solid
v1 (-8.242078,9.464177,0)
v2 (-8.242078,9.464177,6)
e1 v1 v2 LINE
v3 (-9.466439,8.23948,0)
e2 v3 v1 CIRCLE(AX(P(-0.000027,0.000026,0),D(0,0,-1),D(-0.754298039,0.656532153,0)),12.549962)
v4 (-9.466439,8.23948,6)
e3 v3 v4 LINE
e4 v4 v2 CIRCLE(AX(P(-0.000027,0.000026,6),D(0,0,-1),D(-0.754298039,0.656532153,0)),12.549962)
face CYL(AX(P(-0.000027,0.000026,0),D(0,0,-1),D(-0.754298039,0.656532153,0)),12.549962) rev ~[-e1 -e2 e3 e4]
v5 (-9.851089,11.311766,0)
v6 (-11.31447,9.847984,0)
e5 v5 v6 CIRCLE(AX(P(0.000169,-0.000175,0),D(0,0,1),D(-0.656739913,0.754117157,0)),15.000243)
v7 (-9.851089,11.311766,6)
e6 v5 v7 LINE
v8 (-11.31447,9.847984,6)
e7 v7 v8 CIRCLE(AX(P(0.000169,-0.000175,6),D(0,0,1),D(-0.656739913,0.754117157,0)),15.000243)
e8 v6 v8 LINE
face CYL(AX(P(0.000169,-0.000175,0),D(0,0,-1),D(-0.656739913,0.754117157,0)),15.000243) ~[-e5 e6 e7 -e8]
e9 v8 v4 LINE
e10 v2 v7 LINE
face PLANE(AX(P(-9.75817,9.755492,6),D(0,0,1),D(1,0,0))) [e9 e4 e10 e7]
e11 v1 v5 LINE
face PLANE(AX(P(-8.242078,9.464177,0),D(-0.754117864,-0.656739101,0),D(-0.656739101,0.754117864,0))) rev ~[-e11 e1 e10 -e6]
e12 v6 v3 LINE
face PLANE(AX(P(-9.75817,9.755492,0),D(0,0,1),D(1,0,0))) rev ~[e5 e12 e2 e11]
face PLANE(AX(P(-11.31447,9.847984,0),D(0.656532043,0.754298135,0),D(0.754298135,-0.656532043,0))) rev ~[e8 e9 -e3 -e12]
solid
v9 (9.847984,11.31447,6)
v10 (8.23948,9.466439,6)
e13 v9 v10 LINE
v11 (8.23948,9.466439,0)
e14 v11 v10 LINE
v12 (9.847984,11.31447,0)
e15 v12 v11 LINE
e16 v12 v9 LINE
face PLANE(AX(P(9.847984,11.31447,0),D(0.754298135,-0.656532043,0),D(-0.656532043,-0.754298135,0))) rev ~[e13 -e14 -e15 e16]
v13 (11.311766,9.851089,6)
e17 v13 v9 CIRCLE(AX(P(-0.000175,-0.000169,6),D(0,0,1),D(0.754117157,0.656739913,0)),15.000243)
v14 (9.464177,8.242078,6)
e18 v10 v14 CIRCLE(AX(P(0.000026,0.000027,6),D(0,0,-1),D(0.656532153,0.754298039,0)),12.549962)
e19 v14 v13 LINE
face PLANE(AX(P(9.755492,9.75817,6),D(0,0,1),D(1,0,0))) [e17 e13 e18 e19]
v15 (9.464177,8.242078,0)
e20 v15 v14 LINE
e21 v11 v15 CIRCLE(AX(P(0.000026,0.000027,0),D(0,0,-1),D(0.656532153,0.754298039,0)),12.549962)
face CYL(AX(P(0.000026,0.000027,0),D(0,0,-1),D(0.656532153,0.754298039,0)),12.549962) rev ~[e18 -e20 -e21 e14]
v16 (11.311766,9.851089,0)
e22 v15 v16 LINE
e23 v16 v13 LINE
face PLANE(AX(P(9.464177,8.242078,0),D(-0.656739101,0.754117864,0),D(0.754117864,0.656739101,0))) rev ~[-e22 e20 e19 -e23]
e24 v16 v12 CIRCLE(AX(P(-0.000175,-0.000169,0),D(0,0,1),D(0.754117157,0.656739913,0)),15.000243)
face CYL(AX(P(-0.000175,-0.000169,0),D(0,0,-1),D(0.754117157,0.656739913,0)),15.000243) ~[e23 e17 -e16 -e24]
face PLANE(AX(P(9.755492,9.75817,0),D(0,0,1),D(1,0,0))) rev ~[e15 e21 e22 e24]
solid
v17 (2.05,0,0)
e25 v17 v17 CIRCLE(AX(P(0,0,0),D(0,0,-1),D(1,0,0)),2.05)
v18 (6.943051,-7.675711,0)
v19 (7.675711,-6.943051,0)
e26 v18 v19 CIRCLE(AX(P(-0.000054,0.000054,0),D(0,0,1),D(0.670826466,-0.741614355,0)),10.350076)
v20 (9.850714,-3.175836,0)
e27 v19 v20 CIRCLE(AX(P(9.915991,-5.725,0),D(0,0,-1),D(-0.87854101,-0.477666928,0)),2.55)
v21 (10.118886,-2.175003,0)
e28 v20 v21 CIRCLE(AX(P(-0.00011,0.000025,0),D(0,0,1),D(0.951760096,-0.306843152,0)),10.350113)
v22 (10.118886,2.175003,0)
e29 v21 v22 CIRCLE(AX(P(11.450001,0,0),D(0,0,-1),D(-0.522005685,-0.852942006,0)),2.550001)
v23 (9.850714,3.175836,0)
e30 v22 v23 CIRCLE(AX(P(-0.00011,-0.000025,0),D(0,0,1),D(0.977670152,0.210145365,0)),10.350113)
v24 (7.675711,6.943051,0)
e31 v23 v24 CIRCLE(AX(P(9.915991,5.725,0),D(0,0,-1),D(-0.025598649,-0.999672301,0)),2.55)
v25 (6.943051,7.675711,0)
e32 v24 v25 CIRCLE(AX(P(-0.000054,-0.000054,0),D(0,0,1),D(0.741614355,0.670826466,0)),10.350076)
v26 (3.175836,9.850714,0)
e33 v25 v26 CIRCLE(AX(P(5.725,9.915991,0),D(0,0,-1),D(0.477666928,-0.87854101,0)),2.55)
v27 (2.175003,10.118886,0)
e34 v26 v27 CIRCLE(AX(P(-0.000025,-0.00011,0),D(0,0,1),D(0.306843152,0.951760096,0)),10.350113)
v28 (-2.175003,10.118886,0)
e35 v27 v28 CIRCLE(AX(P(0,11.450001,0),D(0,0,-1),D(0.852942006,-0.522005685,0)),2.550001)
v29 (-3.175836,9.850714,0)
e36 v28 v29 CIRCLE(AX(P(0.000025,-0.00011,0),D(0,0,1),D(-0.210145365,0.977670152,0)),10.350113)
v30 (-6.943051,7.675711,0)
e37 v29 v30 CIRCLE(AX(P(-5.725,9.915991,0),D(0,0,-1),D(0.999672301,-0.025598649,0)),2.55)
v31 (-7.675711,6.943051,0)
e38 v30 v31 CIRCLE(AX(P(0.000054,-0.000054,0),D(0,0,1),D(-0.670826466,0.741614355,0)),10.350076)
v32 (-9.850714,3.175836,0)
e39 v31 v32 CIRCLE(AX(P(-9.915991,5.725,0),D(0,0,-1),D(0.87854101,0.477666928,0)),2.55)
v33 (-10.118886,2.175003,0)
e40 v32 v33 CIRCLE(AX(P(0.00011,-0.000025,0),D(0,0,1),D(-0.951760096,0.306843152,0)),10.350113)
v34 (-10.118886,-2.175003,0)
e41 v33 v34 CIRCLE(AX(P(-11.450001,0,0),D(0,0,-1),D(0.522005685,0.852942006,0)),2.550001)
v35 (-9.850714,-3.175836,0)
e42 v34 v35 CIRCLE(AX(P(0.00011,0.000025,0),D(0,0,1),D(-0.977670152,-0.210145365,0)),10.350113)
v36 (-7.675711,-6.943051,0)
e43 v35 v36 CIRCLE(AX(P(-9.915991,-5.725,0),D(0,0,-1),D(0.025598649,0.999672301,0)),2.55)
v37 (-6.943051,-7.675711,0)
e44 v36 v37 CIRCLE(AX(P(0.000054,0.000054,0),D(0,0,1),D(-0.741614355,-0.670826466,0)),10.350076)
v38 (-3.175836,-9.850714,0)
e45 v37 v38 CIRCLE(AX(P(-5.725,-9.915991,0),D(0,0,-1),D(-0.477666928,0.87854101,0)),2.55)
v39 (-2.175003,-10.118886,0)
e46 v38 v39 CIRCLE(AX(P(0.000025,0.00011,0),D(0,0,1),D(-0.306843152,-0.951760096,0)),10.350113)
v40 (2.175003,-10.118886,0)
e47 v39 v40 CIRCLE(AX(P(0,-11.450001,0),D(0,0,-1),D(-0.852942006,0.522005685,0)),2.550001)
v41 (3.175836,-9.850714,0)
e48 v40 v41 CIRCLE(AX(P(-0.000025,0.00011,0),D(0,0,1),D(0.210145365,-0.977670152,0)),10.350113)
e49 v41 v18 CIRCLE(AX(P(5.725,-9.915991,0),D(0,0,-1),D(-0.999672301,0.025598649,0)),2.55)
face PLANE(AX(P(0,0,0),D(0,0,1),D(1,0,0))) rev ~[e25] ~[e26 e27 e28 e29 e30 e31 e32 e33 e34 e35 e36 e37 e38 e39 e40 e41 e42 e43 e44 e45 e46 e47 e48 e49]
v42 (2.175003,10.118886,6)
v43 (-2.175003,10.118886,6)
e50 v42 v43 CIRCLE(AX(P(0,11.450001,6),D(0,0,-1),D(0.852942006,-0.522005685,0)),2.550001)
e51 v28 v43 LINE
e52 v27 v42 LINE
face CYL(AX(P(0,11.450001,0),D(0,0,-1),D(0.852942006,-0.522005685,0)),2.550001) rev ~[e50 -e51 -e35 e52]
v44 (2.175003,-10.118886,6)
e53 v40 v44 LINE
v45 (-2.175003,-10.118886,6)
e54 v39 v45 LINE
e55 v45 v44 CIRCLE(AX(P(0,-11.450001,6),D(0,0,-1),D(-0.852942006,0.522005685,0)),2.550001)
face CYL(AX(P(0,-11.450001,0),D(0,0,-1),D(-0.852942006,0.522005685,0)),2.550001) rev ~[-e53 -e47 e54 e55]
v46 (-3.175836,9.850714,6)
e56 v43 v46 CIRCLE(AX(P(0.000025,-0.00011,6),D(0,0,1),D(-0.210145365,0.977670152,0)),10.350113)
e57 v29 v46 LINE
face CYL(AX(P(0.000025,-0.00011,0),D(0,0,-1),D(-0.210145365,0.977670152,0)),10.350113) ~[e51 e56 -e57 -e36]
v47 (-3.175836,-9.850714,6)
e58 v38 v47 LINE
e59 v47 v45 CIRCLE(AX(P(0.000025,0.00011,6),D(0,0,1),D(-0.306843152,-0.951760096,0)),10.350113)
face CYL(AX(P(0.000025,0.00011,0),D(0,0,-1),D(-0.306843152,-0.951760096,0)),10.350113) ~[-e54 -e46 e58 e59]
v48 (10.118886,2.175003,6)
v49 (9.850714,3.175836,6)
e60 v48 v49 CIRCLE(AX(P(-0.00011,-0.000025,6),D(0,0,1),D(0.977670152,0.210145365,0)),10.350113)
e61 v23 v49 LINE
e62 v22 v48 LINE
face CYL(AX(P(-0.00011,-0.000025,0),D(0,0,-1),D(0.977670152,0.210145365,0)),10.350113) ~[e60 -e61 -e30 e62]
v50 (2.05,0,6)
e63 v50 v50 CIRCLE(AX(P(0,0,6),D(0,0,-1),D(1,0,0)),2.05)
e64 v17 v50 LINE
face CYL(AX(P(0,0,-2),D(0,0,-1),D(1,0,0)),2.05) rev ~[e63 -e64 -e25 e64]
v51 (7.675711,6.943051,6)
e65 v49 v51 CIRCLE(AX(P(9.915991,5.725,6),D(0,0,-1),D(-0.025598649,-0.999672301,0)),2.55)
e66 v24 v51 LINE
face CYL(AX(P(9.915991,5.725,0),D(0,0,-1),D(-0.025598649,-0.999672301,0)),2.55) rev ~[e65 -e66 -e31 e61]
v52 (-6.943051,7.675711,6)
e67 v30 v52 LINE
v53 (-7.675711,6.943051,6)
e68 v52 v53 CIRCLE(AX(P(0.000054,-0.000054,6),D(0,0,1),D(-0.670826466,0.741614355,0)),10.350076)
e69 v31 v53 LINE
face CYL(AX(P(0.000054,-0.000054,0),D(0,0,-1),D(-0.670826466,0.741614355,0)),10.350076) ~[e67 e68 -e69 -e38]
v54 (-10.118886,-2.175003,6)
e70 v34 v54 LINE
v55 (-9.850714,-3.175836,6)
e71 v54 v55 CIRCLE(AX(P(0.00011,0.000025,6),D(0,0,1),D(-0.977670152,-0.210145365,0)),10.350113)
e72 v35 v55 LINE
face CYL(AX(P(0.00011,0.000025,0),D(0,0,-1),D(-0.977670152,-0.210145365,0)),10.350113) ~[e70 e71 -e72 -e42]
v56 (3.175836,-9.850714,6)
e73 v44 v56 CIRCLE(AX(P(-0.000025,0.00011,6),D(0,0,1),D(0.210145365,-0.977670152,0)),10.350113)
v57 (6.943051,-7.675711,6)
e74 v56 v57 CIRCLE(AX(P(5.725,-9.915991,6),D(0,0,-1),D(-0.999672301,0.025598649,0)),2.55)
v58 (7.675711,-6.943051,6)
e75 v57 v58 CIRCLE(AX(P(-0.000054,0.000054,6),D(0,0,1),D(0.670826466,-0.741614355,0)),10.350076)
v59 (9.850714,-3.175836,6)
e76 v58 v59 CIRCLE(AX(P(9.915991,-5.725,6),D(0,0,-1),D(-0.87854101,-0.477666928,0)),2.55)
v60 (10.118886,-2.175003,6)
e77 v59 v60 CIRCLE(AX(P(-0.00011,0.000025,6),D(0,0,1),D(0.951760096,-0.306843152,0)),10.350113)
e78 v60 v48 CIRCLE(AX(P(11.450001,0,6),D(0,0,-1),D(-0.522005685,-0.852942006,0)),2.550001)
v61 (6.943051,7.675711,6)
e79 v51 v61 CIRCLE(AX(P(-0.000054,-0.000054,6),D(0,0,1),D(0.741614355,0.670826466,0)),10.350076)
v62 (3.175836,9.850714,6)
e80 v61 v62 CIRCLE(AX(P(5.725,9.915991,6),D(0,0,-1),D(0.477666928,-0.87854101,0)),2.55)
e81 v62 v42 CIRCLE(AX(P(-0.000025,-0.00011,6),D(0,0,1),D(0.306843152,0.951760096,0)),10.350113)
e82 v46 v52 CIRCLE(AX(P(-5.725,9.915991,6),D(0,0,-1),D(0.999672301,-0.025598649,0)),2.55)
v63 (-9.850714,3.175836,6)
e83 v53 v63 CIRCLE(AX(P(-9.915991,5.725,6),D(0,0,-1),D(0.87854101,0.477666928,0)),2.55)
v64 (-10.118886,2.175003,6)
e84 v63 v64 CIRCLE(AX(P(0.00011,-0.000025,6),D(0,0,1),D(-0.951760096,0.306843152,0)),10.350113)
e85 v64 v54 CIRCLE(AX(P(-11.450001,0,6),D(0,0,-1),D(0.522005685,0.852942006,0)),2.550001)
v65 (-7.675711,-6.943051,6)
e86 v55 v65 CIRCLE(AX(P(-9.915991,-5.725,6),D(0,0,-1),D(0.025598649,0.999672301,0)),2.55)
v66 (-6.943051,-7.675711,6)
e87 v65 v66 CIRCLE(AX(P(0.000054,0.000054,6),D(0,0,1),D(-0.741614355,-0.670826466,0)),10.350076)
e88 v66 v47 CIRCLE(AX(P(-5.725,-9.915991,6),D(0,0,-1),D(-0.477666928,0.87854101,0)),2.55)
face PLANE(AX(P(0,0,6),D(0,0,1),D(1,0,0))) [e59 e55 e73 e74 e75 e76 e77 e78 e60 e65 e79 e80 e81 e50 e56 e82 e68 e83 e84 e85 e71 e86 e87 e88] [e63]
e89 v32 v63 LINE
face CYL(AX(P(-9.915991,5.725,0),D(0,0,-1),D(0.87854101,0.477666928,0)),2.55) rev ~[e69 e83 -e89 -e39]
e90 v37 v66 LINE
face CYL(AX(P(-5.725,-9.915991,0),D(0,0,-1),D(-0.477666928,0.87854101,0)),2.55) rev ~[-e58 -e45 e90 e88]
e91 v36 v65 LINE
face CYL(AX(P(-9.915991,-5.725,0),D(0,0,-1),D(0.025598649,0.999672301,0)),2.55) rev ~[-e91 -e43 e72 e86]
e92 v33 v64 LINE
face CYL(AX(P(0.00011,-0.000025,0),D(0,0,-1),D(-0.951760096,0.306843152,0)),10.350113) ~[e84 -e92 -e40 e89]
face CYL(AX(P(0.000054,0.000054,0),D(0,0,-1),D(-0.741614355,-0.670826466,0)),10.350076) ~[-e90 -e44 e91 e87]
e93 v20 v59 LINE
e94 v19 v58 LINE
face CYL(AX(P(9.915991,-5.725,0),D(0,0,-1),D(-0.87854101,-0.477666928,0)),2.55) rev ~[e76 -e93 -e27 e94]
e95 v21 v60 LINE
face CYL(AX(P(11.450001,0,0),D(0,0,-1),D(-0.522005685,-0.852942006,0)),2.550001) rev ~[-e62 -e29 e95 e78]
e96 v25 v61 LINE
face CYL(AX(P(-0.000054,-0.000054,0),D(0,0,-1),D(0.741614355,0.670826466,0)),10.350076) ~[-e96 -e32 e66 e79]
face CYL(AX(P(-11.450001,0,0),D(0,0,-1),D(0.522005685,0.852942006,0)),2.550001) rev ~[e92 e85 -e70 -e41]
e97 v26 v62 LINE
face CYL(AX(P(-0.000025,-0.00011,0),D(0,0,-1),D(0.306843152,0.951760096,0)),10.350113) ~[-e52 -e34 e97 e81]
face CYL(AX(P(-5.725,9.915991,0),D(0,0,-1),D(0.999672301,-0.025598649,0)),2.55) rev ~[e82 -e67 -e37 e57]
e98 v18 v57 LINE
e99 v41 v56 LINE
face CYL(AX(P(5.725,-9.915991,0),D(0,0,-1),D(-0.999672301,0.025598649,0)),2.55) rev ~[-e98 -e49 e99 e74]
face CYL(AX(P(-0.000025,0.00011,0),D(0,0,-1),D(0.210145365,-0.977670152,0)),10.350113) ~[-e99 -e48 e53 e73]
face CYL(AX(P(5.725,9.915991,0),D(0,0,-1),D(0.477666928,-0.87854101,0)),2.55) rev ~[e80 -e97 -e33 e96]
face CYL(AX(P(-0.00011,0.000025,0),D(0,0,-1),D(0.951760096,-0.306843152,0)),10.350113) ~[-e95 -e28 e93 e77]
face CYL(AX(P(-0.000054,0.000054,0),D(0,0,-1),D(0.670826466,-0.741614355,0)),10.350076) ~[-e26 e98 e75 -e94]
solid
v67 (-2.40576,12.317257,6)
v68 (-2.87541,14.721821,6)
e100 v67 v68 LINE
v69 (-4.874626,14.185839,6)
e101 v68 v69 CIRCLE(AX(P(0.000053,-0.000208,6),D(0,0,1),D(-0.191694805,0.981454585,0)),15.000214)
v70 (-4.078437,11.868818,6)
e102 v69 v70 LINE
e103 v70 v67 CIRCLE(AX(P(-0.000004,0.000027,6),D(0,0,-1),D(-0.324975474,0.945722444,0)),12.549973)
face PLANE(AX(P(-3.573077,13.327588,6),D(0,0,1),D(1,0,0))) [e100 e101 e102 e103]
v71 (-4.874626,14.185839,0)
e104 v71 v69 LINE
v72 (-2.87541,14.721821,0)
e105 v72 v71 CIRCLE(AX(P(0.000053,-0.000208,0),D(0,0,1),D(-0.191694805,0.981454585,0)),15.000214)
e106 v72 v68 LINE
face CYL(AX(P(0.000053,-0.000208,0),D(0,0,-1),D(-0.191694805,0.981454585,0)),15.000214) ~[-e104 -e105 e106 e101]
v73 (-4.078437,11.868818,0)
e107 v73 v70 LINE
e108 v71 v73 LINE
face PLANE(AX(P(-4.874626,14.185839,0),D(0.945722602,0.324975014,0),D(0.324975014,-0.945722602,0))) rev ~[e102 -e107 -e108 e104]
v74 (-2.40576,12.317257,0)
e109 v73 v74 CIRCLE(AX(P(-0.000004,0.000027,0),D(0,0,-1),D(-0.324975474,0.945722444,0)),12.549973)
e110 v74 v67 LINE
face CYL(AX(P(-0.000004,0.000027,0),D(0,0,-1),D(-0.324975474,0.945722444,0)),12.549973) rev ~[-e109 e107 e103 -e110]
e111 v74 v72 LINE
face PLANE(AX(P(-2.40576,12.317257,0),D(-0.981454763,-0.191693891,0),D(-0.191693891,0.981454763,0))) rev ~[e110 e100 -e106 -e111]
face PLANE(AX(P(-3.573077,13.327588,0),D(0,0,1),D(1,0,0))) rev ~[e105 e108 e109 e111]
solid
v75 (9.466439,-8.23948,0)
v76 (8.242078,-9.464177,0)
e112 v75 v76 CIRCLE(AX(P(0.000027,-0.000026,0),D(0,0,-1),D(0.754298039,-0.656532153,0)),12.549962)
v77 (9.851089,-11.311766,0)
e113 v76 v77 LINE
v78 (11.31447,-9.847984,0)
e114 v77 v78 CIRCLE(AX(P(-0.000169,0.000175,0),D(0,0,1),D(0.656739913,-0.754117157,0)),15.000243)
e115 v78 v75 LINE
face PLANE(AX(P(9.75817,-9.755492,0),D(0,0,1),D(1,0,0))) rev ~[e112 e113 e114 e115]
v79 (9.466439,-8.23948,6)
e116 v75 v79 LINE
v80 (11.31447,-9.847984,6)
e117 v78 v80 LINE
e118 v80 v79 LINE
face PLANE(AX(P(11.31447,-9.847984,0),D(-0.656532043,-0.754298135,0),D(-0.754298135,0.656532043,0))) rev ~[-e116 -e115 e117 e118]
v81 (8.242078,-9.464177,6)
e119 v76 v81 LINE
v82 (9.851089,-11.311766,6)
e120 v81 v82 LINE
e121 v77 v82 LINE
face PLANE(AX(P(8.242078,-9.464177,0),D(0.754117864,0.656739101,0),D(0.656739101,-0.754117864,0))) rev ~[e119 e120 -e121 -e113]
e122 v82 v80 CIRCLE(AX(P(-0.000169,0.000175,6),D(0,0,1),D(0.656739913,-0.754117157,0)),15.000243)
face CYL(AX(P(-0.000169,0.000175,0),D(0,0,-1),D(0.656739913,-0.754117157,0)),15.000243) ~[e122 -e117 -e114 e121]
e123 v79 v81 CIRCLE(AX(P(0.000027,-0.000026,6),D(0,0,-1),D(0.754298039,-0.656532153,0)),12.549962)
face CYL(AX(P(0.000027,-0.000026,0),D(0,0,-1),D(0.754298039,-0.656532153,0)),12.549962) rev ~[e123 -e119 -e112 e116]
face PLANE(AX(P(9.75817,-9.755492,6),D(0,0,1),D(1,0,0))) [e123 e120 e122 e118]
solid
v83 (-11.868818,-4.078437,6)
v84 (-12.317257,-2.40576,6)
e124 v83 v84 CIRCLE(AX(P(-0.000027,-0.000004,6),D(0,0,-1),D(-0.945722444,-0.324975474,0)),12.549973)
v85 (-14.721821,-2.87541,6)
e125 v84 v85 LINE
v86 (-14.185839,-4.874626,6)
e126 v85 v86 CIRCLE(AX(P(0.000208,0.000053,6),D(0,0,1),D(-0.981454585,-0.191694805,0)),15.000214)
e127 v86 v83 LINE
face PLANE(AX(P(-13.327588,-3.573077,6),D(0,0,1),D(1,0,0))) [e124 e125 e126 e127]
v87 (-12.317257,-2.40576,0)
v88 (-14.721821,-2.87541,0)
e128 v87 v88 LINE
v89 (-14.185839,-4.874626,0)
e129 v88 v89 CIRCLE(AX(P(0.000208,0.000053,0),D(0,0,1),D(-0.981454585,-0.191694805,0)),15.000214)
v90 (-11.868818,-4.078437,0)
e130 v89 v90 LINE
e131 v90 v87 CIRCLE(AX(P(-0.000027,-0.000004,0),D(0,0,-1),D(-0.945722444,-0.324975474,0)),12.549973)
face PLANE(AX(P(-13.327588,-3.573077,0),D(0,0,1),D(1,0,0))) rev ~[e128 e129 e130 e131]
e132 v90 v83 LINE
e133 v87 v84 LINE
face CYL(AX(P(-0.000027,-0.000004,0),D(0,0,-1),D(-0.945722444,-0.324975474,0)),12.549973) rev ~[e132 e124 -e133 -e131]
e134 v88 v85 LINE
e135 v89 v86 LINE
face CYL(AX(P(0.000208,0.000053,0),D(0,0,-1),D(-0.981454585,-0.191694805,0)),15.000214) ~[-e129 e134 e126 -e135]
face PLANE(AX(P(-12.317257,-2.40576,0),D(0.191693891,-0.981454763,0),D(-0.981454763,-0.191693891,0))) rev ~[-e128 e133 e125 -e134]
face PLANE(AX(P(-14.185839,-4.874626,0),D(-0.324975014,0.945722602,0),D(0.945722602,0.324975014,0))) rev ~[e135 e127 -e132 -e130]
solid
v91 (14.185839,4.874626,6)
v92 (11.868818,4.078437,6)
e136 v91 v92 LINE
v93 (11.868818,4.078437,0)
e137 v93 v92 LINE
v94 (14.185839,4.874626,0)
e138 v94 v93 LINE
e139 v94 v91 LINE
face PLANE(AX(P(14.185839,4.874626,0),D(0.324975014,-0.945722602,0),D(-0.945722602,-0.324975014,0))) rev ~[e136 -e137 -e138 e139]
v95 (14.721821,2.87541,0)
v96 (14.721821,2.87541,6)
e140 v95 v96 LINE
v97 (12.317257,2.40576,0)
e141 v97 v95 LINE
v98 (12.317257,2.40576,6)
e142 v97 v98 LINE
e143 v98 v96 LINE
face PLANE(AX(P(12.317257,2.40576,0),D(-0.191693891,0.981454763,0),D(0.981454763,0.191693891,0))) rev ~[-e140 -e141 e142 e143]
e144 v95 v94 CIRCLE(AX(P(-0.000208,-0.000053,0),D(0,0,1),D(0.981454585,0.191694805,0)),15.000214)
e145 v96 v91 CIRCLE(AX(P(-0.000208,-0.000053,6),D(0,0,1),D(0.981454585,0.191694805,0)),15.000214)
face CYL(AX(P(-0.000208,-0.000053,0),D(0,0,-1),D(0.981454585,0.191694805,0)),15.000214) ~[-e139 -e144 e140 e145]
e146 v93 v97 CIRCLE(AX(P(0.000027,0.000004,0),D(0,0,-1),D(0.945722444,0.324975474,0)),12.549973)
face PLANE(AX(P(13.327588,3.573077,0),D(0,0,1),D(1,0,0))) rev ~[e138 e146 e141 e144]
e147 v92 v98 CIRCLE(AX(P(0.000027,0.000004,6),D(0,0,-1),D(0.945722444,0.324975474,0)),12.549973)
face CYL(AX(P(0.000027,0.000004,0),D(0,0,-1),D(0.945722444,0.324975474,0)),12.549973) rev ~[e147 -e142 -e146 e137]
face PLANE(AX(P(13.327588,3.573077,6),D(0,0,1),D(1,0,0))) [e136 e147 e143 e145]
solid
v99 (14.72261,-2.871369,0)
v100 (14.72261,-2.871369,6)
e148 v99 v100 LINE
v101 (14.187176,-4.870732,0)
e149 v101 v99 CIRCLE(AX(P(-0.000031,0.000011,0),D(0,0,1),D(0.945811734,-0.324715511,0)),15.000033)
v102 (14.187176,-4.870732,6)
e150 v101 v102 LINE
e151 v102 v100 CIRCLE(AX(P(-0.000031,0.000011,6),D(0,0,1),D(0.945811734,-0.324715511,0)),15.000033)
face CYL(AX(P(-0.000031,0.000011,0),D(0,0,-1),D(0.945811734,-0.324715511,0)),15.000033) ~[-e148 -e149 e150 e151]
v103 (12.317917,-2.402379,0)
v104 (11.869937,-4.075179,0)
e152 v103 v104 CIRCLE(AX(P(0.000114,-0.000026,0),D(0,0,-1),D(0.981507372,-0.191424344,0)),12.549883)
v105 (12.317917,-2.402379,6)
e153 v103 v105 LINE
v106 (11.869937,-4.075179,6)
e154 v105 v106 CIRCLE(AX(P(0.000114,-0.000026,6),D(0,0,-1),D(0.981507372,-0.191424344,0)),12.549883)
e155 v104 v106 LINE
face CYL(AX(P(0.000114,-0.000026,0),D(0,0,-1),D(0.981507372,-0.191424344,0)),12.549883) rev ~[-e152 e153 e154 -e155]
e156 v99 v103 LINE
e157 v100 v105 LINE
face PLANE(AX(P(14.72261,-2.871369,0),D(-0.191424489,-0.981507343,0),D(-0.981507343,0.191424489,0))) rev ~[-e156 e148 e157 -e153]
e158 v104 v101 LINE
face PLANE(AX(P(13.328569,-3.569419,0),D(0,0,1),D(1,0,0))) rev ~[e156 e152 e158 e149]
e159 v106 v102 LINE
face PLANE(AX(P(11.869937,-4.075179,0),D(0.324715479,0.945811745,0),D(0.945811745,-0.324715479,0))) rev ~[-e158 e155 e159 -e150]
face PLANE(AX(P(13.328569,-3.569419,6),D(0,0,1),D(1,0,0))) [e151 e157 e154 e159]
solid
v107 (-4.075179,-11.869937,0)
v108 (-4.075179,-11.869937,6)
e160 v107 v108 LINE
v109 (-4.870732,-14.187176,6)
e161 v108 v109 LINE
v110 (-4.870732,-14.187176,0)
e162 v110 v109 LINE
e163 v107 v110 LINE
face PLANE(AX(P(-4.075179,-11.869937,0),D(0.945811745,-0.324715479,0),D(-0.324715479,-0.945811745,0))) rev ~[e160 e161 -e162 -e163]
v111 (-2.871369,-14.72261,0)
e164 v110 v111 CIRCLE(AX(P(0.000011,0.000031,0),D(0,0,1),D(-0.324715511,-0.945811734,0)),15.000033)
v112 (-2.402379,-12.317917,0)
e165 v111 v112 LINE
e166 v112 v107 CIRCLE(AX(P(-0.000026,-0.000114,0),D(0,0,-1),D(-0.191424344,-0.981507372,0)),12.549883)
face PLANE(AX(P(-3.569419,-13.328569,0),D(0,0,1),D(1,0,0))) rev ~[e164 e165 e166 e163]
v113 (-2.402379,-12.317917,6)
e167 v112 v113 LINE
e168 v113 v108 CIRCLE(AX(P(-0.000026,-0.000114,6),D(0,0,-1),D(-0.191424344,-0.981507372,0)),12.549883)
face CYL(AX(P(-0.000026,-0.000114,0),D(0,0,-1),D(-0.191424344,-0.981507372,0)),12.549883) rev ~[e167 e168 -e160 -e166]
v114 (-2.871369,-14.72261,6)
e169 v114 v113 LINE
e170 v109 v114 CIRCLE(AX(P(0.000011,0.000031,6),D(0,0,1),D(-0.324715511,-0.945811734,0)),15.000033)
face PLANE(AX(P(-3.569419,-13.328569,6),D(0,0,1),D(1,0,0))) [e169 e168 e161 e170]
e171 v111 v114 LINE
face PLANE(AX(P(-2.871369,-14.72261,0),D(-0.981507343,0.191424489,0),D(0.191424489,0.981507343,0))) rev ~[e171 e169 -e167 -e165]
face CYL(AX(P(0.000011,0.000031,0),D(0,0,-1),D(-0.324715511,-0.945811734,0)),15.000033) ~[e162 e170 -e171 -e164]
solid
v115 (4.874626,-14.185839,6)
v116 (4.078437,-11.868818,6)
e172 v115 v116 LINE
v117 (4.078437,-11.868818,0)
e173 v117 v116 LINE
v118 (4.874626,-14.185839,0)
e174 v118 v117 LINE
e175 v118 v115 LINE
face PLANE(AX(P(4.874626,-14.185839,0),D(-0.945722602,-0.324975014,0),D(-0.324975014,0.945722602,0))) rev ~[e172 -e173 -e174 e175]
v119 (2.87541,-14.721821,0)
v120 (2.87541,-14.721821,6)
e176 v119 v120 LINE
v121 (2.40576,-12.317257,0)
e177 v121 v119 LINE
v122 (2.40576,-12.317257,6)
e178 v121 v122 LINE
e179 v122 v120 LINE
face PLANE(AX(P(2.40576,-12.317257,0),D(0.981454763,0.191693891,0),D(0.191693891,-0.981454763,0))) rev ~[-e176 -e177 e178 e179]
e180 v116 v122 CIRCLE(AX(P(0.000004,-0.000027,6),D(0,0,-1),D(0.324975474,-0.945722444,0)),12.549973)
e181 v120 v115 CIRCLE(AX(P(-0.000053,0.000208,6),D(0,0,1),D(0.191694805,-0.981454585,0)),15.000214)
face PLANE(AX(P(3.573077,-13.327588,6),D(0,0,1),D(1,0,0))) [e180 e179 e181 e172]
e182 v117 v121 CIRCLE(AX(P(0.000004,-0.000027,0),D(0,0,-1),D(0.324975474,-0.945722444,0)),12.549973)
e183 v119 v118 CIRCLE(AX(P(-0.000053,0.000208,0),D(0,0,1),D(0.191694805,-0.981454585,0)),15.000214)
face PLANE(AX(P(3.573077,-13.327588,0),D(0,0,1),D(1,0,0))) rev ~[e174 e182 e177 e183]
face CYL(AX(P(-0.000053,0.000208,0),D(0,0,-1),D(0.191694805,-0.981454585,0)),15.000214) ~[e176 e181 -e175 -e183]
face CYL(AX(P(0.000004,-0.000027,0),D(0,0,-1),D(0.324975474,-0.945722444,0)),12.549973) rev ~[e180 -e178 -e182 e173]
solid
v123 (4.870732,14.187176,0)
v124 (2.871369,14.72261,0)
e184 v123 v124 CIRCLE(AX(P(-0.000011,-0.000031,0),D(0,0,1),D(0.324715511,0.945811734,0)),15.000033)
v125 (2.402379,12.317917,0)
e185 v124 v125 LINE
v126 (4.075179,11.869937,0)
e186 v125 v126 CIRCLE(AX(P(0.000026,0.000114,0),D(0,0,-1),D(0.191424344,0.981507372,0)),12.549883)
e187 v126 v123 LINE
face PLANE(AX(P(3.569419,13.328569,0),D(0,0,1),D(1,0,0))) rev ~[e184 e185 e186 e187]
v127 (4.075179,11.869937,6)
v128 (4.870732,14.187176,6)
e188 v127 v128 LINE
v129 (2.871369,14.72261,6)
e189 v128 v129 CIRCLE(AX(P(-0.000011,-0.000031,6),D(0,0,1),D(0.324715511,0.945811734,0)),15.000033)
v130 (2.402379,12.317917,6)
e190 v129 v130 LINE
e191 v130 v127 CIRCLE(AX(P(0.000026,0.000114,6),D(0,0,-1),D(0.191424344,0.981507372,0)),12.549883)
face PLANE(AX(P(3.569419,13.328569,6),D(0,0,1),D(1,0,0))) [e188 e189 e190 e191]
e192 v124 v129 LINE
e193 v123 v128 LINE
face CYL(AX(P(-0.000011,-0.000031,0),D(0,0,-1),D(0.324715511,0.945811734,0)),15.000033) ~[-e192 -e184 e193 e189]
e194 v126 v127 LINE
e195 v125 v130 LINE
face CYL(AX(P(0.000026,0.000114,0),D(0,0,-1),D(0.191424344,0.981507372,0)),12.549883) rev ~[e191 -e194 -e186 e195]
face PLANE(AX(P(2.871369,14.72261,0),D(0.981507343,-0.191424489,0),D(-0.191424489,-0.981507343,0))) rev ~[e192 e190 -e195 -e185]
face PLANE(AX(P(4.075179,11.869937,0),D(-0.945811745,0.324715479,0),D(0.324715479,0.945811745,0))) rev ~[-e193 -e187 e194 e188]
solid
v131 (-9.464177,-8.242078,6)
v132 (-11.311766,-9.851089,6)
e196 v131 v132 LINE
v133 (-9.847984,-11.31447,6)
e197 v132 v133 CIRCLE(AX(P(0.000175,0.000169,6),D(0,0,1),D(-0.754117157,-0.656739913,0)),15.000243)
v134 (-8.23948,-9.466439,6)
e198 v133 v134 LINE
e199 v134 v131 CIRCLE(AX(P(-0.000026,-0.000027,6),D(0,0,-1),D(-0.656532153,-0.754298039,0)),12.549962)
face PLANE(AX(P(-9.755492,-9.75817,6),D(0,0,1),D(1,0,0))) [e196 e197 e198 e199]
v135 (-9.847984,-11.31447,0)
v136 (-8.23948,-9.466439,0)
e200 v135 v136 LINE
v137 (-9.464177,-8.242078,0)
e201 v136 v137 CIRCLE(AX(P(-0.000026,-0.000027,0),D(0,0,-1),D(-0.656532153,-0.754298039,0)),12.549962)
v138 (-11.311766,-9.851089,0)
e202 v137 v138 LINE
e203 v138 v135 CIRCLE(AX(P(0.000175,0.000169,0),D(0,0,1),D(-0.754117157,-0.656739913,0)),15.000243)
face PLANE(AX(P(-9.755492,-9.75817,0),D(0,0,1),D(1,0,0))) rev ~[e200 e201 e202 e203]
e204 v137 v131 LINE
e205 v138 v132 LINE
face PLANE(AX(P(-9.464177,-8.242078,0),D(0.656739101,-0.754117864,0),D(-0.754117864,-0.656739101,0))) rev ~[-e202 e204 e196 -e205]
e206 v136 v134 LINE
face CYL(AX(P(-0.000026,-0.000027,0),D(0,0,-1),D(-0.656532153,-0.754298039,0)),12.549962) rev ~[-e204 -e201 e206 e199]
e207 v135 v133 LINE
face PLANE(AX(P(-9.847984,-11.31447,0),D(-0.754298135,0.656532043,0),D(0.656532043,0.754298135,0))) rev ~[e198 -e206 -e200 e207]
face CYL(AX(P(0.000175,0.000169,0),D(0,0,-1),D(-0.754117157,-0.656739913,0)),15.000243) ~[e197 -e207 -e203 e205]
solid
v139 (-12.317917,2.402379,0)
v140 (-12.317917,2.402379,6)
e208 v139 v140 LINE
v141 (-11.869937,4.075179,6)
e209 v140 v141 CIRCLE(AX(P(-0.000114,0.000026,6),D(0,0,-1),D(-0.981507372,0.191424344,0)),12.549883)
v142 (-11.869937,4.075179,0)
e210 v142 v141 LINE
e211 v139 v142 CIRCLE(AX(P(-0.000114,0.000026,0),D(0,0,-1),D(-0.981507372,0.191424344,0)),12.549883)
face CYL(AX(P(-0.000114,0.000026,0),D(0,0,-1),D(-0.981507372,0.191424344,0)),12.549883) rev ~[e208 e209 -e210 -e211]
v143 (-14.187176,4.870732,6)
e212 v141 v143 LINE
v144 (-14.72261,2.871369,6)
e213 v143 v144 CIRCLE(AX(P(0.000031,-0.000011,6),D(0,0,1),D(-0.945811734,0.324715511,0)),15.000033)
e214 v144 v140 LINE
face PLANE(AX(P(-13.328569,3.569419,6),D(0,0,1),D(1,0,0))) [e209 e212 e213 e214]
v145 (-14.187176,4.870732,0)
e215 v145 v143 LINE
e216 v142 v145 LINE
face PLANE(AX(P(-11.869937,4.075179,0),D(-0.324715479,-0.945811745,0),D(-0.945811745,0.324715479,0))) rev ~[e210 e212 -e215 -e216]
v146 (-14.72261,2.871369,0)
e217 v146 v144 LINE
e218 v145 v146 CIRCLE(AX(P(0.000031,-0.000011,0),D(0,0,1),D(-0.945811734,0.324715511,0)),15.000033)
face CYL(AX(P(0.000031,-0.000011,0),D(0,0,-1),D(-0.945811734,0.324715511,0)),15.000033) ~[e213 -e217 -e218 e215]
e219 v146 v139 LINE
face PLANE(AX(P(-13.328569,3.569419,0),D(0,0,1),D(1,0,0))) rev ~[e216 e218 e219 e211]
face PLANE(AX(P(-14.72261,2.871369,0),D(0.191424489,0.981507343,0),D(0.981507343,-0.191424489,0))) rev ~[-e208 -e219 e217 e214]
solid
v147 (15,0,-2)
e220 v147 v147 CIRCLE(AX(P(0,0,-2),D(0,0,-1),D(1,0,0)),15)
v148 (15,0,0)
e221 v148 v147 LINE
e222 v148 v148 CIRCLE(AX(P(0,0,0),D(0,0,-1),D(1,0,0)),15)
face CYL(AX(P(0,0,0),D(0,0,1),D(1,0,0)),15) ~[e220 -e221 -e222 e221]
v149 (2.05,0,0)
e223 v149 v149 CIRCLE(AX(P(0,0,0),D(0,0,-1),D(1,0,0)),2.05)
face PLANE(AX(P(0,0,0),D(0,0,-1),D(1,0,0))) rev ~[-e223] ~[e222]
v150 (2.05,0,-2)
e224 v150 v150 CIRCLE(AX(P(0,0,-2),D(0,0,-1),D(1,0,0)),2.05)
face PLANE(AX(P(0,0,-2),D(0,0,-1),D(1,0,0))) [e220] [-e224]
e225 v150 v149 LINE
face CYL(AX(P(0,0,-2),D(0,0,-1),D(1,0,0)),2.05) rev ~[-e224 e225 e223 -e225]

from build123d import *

# Parameters (mm, degrees)
F1_DEPTH = 6
F2_R     = 15
F3_DEPTH = 2
F4_R     = 2.05
F5_DEPTH = 8.001


with BuildPart() as f1:
    # F0 (on Top) → F1 (new body)
    with BuildSketch(Plane.XY):
        with BuildLine():
            ThreePointArc((-7.675711, 6.943051), (-7.707626, 4.45), (-9.850714, 3.175836))
            ThreePointArc((-9.850714, 3.175836), (-9.997332, 2.678777), (-10.118886, 2.175003))
            ThreePointArc((-10.118886, 2.175003), (-8.9, 0), (-10.118886, -2.175003))
            ThreePointArc((-10.118886, -2.175003), (-9.997332, -2.678777), (-9.850714, -3.175836))
            ThreePointArc((-9.850714, -3.175836), (-7.707626, -4.45), (-7.675711, -6.943051))
            ThreePointArc((-7.675711, -6.943051), (-7.318555, -7.318555), (-6.943051, -7.675711))
            ThreePointArc((-6.943051, -7.675711), (-4.45, -7.707626), (-3.175836, -9.850714))
            ThreePointArc((-3.175836, -9.850714), (-2.678777, -9.997332), (-2.175003, -10.118886))
            ThreePointArc((-2.175003, -10.118886), (0, -8.9), (2.175003, -10.118886))
            ThreePointArc((2.175003, -10.118886), (2.678777, -9.997332), (3.175836, -9.850714))
            ThreePointArc((3.175836, -9.850714), (4.45, -7.707626), (6.943051, -7.675711))
            ThreePointArc((6.943051, -7.675711), (7.318555, -7.318555), (7.675711, -6.943051))
            ThreePointArc((7.675711, -6.943051), (7.707626, -4.45), (9.850714, -3.175836))
            ThreePointArc((9.850714, -3.175836), (9.997332, -2.678777), (10.118886, -2.175003))
            ThreePointArc((10.118886, -2.175003), (8.9, 0), (10.118886, 2.175003))
            ThreePointArc((10.118886, 2.175003), (9.997332, 2.678777), (9.850714, 3.175836))
            ThreePointArc((9.850714, 3.175836), (7.707626, 4.45), (7.675711, 6.943051))
            ThreePointArc((7.675711, 6.943051), (7.318555, 7.318555), (6.943051, 7.675711))
            ThreePointArc((6.943051, 7.675711), (4.45, 7.707626), (3.175836, 9.850714))
            ThreePointArc((3.175836, 9.850714), (2.678777, 9.997332), (2.175003, 10.118886))
            ThreePointArc((2.175003, 10.118886), (0, 8.9), (-2.175003, 10.118886))
            ThreePointArc((-2.175003, 10.118886), (-2.678777, 9.997332), (-3.175836, 9.850714))
            ThreePointArc((-3.175836, 9.850714), (-4.45, 7.707626), (-6.943051, 7.675711))
            ThreePointArc((-6.943051, 7.675711), (-7.318555, 7.318555), (-7.675711, 6.943051))
        make_face()
        with BuildLine():
            ThreePointArc((-14.721821, -2.87541), (-14.488354, -3.884274), (-14.185839, -4.874626))
            Line((-14.185839, -4.874626), (-11.868818, -4.078437))
            ThreePointArc((-11.868818, -4.078437), (-12.121923, -3.249843), (-12.317257, -2.40576))
            Line((-12.317257, -2.40576), (-14.721821, -2.87541))
        make_face()
        with BuildLine():
            Line((-11.869937, 4.075179), (-14.187176, 4.870732))
            ThreePointArc((-14.187176, 4.870732), (-14.48942, 3.880297), (-14.72261, 2.871369))
            Line((-14.72261, 2.871369), (-12.317917, 2.402379))
            ThreePointArc((-12.317917, 2.402379), (-12.122815, 3.246515), (-11.869937, 4.075179))
        make_face()
        with BuildLine():
            Line((-8.242078, 9.464177), (-9.851089, 11.311766))
            ThreePointArc((-9.851089, 11.311766), (-10.608057, 10.605146), (-11.31447, 9.847984))
            Line((-11.31447, 9.847984), (-9.466439, 8.23948))
            ThreePointArc((-9.466439, 8.23948), (-8.875408, 8.872972), (-8.242078, 9.464177))
        make_face()
        with BuildLine():
            Line((-2.40576, 12.317257), (-2.87541, 14.721821))
            ThreePointArc((-2.87541, 14.721821), (-3.884274, 14.488354), (-4.874626, 14.185839))
            Line((-4.874626, 14.185839), (-4.078437, 11.868818))
            ThreePointArc((-4.078437, 11.868818), (-3.249843, 12.121923), (-2.40576, 12.317257))
        make_face()
        with BuildLine():
            Line((4.075179, 11.869937), (4.870732, 14.187176))
            ThreePointArc((4.870732, 14.187176), (3.880297, 14.48942), (2.871369, 14.72261))
            Line((2.871369, 14.72261), (2.402379, 12.317917))
            ThreePointArc((2.402379, 12.317917), (3.246515, 12.122815), (4.075179, 11.869937))
        make_face()
        with BuildLine():
            Line((9.464177, 8.242078), (11.311766, 9.851089))
            ThreePointArc((11.311766, 9.851089), (10.605146, 10.608057), (9.847984, 11.31447))
            Line((9.847984, 11.31447), (8.23948, 9.466439))
            ThreePointArc((8.23948, 9.466439), (8.872972, 8.875408), (9.464177, 8.242078))
        make_face()
        with BuildLine():
            Line((12.317257, 2.40576), (14.721821, 2.87541))
            ThreePointArc((14.721821, 2.87541), (14.488354, 3.884274), (14.185839, 4.874626))
            Line((14.185839, 4.874626), (11.868818, 4.078437))
            ThreePointArc((11.868818, 4.078437), (12.121923, 3.249843), (12.317257, 2.40576))
        make_face()
        with BuildLine():
            ThreePointArc((14.187176, -4.870732), (14.48942, -3.880297), (14.72261, -2.871369))
            Line((14.72261, -2.871369), (12.317917, -2.402379))
            ThreePointArc((12.317917, -2.402379), (12.122815, -3.246515), (11.869937, -4.075179))
            Line((11.869937, -4.075179), (14.187176, -4.870732))
        make_face()
        with BuildLine():
            ThreePointArc((9.851089, -11.311766), (10.608057, -10.605146), (11.31447, -9.847984))
            Line((11.31447, -9.847984), (9.466439, -8.23948))
            ThreePointArc((9.466439, -8.23948), (8.875408, -8.872972), (8.242078, -9.464177))
            Line((8.242078, -9.464177), (9.851089, -11.311766))
        make_face()
        with BuildLine():
            ThreePointArc((2.87541, -14.721821), (3.884274, -14.488354), (4.874626, -14.185839))
            Line((4.874626, -14.185839), (4.078437, -11.868818))
            ThreePointArc((4.078437, -11.868818), (3.249843, -12.121923), (2.40576, -12.317257))
            Line((2.40576, -12.317257), (2.87541, -14.721821))
        make_face()
        with BuildLine():
            ThreePointArc((-4.870732, -14.187176), (-3.880297, -14.48942), (-2.871369, -14.72261))
            Line((-2.871369, -14.72261), (-2.402379, -12.317917))
            ThreePointArc((-2.402379, -12.317917), (-3.246515, -12.122815), (-4.075179, -11.869937))
            Line((-4.075179, -11.869937), (-4.870732, -14.187176))
        make_face()
        with BuildLine():
            ThreePointArc((-11.311766, -9.851089), (-10.605146, -10.608057), (-9.847984, -11.31447))
            Line((-9.847984, -11.31447), (-8.23948, -9.466439))
            ThreePointArc((-8.23948, -9.466439), (-8.872972, -8.875408), (-9.464177, -8.242078))
            Line((-9.464177, -8.242078), (-11.311766, -9.851089))
        make_face()
    extrude(amount=F1_DEPTH)


with BuildPart() as f3:
    # F2 (on face) → F3 (new body)
    with BuildSketch(Plane(origin=(0, 0, 0), x_dir=(1, 0, 0), z_dir=(0, 0, -1))):
        Circle(F2_R)
    extrude(amount=F3_DEPTH)


with BuildPart() as f5_tool:
    # F4 (on face) → F5 (new body, through all)
    with BuildSketch(Plane(origin=(0, 0, -2), x_dir=(1, 0, 0), z_dir=(0, 0, -1))):
        Circle(F4_R)
    extrude(amount=-F5_DEPTH)


with BuildPart() as f1_1:
    add(f1.part)

    # F5: cut by f5_tool
    add(f5_tool.part, mode=Mode.SUBTRACT)


with BuildPart() as f3_1:
    add(f3.part)

    # F5: cut by f5_tool
    add(f5_tool.part, mode=Mode.SUBTRACT)


solid = Compound([f1_1.part, f3_1.part])
